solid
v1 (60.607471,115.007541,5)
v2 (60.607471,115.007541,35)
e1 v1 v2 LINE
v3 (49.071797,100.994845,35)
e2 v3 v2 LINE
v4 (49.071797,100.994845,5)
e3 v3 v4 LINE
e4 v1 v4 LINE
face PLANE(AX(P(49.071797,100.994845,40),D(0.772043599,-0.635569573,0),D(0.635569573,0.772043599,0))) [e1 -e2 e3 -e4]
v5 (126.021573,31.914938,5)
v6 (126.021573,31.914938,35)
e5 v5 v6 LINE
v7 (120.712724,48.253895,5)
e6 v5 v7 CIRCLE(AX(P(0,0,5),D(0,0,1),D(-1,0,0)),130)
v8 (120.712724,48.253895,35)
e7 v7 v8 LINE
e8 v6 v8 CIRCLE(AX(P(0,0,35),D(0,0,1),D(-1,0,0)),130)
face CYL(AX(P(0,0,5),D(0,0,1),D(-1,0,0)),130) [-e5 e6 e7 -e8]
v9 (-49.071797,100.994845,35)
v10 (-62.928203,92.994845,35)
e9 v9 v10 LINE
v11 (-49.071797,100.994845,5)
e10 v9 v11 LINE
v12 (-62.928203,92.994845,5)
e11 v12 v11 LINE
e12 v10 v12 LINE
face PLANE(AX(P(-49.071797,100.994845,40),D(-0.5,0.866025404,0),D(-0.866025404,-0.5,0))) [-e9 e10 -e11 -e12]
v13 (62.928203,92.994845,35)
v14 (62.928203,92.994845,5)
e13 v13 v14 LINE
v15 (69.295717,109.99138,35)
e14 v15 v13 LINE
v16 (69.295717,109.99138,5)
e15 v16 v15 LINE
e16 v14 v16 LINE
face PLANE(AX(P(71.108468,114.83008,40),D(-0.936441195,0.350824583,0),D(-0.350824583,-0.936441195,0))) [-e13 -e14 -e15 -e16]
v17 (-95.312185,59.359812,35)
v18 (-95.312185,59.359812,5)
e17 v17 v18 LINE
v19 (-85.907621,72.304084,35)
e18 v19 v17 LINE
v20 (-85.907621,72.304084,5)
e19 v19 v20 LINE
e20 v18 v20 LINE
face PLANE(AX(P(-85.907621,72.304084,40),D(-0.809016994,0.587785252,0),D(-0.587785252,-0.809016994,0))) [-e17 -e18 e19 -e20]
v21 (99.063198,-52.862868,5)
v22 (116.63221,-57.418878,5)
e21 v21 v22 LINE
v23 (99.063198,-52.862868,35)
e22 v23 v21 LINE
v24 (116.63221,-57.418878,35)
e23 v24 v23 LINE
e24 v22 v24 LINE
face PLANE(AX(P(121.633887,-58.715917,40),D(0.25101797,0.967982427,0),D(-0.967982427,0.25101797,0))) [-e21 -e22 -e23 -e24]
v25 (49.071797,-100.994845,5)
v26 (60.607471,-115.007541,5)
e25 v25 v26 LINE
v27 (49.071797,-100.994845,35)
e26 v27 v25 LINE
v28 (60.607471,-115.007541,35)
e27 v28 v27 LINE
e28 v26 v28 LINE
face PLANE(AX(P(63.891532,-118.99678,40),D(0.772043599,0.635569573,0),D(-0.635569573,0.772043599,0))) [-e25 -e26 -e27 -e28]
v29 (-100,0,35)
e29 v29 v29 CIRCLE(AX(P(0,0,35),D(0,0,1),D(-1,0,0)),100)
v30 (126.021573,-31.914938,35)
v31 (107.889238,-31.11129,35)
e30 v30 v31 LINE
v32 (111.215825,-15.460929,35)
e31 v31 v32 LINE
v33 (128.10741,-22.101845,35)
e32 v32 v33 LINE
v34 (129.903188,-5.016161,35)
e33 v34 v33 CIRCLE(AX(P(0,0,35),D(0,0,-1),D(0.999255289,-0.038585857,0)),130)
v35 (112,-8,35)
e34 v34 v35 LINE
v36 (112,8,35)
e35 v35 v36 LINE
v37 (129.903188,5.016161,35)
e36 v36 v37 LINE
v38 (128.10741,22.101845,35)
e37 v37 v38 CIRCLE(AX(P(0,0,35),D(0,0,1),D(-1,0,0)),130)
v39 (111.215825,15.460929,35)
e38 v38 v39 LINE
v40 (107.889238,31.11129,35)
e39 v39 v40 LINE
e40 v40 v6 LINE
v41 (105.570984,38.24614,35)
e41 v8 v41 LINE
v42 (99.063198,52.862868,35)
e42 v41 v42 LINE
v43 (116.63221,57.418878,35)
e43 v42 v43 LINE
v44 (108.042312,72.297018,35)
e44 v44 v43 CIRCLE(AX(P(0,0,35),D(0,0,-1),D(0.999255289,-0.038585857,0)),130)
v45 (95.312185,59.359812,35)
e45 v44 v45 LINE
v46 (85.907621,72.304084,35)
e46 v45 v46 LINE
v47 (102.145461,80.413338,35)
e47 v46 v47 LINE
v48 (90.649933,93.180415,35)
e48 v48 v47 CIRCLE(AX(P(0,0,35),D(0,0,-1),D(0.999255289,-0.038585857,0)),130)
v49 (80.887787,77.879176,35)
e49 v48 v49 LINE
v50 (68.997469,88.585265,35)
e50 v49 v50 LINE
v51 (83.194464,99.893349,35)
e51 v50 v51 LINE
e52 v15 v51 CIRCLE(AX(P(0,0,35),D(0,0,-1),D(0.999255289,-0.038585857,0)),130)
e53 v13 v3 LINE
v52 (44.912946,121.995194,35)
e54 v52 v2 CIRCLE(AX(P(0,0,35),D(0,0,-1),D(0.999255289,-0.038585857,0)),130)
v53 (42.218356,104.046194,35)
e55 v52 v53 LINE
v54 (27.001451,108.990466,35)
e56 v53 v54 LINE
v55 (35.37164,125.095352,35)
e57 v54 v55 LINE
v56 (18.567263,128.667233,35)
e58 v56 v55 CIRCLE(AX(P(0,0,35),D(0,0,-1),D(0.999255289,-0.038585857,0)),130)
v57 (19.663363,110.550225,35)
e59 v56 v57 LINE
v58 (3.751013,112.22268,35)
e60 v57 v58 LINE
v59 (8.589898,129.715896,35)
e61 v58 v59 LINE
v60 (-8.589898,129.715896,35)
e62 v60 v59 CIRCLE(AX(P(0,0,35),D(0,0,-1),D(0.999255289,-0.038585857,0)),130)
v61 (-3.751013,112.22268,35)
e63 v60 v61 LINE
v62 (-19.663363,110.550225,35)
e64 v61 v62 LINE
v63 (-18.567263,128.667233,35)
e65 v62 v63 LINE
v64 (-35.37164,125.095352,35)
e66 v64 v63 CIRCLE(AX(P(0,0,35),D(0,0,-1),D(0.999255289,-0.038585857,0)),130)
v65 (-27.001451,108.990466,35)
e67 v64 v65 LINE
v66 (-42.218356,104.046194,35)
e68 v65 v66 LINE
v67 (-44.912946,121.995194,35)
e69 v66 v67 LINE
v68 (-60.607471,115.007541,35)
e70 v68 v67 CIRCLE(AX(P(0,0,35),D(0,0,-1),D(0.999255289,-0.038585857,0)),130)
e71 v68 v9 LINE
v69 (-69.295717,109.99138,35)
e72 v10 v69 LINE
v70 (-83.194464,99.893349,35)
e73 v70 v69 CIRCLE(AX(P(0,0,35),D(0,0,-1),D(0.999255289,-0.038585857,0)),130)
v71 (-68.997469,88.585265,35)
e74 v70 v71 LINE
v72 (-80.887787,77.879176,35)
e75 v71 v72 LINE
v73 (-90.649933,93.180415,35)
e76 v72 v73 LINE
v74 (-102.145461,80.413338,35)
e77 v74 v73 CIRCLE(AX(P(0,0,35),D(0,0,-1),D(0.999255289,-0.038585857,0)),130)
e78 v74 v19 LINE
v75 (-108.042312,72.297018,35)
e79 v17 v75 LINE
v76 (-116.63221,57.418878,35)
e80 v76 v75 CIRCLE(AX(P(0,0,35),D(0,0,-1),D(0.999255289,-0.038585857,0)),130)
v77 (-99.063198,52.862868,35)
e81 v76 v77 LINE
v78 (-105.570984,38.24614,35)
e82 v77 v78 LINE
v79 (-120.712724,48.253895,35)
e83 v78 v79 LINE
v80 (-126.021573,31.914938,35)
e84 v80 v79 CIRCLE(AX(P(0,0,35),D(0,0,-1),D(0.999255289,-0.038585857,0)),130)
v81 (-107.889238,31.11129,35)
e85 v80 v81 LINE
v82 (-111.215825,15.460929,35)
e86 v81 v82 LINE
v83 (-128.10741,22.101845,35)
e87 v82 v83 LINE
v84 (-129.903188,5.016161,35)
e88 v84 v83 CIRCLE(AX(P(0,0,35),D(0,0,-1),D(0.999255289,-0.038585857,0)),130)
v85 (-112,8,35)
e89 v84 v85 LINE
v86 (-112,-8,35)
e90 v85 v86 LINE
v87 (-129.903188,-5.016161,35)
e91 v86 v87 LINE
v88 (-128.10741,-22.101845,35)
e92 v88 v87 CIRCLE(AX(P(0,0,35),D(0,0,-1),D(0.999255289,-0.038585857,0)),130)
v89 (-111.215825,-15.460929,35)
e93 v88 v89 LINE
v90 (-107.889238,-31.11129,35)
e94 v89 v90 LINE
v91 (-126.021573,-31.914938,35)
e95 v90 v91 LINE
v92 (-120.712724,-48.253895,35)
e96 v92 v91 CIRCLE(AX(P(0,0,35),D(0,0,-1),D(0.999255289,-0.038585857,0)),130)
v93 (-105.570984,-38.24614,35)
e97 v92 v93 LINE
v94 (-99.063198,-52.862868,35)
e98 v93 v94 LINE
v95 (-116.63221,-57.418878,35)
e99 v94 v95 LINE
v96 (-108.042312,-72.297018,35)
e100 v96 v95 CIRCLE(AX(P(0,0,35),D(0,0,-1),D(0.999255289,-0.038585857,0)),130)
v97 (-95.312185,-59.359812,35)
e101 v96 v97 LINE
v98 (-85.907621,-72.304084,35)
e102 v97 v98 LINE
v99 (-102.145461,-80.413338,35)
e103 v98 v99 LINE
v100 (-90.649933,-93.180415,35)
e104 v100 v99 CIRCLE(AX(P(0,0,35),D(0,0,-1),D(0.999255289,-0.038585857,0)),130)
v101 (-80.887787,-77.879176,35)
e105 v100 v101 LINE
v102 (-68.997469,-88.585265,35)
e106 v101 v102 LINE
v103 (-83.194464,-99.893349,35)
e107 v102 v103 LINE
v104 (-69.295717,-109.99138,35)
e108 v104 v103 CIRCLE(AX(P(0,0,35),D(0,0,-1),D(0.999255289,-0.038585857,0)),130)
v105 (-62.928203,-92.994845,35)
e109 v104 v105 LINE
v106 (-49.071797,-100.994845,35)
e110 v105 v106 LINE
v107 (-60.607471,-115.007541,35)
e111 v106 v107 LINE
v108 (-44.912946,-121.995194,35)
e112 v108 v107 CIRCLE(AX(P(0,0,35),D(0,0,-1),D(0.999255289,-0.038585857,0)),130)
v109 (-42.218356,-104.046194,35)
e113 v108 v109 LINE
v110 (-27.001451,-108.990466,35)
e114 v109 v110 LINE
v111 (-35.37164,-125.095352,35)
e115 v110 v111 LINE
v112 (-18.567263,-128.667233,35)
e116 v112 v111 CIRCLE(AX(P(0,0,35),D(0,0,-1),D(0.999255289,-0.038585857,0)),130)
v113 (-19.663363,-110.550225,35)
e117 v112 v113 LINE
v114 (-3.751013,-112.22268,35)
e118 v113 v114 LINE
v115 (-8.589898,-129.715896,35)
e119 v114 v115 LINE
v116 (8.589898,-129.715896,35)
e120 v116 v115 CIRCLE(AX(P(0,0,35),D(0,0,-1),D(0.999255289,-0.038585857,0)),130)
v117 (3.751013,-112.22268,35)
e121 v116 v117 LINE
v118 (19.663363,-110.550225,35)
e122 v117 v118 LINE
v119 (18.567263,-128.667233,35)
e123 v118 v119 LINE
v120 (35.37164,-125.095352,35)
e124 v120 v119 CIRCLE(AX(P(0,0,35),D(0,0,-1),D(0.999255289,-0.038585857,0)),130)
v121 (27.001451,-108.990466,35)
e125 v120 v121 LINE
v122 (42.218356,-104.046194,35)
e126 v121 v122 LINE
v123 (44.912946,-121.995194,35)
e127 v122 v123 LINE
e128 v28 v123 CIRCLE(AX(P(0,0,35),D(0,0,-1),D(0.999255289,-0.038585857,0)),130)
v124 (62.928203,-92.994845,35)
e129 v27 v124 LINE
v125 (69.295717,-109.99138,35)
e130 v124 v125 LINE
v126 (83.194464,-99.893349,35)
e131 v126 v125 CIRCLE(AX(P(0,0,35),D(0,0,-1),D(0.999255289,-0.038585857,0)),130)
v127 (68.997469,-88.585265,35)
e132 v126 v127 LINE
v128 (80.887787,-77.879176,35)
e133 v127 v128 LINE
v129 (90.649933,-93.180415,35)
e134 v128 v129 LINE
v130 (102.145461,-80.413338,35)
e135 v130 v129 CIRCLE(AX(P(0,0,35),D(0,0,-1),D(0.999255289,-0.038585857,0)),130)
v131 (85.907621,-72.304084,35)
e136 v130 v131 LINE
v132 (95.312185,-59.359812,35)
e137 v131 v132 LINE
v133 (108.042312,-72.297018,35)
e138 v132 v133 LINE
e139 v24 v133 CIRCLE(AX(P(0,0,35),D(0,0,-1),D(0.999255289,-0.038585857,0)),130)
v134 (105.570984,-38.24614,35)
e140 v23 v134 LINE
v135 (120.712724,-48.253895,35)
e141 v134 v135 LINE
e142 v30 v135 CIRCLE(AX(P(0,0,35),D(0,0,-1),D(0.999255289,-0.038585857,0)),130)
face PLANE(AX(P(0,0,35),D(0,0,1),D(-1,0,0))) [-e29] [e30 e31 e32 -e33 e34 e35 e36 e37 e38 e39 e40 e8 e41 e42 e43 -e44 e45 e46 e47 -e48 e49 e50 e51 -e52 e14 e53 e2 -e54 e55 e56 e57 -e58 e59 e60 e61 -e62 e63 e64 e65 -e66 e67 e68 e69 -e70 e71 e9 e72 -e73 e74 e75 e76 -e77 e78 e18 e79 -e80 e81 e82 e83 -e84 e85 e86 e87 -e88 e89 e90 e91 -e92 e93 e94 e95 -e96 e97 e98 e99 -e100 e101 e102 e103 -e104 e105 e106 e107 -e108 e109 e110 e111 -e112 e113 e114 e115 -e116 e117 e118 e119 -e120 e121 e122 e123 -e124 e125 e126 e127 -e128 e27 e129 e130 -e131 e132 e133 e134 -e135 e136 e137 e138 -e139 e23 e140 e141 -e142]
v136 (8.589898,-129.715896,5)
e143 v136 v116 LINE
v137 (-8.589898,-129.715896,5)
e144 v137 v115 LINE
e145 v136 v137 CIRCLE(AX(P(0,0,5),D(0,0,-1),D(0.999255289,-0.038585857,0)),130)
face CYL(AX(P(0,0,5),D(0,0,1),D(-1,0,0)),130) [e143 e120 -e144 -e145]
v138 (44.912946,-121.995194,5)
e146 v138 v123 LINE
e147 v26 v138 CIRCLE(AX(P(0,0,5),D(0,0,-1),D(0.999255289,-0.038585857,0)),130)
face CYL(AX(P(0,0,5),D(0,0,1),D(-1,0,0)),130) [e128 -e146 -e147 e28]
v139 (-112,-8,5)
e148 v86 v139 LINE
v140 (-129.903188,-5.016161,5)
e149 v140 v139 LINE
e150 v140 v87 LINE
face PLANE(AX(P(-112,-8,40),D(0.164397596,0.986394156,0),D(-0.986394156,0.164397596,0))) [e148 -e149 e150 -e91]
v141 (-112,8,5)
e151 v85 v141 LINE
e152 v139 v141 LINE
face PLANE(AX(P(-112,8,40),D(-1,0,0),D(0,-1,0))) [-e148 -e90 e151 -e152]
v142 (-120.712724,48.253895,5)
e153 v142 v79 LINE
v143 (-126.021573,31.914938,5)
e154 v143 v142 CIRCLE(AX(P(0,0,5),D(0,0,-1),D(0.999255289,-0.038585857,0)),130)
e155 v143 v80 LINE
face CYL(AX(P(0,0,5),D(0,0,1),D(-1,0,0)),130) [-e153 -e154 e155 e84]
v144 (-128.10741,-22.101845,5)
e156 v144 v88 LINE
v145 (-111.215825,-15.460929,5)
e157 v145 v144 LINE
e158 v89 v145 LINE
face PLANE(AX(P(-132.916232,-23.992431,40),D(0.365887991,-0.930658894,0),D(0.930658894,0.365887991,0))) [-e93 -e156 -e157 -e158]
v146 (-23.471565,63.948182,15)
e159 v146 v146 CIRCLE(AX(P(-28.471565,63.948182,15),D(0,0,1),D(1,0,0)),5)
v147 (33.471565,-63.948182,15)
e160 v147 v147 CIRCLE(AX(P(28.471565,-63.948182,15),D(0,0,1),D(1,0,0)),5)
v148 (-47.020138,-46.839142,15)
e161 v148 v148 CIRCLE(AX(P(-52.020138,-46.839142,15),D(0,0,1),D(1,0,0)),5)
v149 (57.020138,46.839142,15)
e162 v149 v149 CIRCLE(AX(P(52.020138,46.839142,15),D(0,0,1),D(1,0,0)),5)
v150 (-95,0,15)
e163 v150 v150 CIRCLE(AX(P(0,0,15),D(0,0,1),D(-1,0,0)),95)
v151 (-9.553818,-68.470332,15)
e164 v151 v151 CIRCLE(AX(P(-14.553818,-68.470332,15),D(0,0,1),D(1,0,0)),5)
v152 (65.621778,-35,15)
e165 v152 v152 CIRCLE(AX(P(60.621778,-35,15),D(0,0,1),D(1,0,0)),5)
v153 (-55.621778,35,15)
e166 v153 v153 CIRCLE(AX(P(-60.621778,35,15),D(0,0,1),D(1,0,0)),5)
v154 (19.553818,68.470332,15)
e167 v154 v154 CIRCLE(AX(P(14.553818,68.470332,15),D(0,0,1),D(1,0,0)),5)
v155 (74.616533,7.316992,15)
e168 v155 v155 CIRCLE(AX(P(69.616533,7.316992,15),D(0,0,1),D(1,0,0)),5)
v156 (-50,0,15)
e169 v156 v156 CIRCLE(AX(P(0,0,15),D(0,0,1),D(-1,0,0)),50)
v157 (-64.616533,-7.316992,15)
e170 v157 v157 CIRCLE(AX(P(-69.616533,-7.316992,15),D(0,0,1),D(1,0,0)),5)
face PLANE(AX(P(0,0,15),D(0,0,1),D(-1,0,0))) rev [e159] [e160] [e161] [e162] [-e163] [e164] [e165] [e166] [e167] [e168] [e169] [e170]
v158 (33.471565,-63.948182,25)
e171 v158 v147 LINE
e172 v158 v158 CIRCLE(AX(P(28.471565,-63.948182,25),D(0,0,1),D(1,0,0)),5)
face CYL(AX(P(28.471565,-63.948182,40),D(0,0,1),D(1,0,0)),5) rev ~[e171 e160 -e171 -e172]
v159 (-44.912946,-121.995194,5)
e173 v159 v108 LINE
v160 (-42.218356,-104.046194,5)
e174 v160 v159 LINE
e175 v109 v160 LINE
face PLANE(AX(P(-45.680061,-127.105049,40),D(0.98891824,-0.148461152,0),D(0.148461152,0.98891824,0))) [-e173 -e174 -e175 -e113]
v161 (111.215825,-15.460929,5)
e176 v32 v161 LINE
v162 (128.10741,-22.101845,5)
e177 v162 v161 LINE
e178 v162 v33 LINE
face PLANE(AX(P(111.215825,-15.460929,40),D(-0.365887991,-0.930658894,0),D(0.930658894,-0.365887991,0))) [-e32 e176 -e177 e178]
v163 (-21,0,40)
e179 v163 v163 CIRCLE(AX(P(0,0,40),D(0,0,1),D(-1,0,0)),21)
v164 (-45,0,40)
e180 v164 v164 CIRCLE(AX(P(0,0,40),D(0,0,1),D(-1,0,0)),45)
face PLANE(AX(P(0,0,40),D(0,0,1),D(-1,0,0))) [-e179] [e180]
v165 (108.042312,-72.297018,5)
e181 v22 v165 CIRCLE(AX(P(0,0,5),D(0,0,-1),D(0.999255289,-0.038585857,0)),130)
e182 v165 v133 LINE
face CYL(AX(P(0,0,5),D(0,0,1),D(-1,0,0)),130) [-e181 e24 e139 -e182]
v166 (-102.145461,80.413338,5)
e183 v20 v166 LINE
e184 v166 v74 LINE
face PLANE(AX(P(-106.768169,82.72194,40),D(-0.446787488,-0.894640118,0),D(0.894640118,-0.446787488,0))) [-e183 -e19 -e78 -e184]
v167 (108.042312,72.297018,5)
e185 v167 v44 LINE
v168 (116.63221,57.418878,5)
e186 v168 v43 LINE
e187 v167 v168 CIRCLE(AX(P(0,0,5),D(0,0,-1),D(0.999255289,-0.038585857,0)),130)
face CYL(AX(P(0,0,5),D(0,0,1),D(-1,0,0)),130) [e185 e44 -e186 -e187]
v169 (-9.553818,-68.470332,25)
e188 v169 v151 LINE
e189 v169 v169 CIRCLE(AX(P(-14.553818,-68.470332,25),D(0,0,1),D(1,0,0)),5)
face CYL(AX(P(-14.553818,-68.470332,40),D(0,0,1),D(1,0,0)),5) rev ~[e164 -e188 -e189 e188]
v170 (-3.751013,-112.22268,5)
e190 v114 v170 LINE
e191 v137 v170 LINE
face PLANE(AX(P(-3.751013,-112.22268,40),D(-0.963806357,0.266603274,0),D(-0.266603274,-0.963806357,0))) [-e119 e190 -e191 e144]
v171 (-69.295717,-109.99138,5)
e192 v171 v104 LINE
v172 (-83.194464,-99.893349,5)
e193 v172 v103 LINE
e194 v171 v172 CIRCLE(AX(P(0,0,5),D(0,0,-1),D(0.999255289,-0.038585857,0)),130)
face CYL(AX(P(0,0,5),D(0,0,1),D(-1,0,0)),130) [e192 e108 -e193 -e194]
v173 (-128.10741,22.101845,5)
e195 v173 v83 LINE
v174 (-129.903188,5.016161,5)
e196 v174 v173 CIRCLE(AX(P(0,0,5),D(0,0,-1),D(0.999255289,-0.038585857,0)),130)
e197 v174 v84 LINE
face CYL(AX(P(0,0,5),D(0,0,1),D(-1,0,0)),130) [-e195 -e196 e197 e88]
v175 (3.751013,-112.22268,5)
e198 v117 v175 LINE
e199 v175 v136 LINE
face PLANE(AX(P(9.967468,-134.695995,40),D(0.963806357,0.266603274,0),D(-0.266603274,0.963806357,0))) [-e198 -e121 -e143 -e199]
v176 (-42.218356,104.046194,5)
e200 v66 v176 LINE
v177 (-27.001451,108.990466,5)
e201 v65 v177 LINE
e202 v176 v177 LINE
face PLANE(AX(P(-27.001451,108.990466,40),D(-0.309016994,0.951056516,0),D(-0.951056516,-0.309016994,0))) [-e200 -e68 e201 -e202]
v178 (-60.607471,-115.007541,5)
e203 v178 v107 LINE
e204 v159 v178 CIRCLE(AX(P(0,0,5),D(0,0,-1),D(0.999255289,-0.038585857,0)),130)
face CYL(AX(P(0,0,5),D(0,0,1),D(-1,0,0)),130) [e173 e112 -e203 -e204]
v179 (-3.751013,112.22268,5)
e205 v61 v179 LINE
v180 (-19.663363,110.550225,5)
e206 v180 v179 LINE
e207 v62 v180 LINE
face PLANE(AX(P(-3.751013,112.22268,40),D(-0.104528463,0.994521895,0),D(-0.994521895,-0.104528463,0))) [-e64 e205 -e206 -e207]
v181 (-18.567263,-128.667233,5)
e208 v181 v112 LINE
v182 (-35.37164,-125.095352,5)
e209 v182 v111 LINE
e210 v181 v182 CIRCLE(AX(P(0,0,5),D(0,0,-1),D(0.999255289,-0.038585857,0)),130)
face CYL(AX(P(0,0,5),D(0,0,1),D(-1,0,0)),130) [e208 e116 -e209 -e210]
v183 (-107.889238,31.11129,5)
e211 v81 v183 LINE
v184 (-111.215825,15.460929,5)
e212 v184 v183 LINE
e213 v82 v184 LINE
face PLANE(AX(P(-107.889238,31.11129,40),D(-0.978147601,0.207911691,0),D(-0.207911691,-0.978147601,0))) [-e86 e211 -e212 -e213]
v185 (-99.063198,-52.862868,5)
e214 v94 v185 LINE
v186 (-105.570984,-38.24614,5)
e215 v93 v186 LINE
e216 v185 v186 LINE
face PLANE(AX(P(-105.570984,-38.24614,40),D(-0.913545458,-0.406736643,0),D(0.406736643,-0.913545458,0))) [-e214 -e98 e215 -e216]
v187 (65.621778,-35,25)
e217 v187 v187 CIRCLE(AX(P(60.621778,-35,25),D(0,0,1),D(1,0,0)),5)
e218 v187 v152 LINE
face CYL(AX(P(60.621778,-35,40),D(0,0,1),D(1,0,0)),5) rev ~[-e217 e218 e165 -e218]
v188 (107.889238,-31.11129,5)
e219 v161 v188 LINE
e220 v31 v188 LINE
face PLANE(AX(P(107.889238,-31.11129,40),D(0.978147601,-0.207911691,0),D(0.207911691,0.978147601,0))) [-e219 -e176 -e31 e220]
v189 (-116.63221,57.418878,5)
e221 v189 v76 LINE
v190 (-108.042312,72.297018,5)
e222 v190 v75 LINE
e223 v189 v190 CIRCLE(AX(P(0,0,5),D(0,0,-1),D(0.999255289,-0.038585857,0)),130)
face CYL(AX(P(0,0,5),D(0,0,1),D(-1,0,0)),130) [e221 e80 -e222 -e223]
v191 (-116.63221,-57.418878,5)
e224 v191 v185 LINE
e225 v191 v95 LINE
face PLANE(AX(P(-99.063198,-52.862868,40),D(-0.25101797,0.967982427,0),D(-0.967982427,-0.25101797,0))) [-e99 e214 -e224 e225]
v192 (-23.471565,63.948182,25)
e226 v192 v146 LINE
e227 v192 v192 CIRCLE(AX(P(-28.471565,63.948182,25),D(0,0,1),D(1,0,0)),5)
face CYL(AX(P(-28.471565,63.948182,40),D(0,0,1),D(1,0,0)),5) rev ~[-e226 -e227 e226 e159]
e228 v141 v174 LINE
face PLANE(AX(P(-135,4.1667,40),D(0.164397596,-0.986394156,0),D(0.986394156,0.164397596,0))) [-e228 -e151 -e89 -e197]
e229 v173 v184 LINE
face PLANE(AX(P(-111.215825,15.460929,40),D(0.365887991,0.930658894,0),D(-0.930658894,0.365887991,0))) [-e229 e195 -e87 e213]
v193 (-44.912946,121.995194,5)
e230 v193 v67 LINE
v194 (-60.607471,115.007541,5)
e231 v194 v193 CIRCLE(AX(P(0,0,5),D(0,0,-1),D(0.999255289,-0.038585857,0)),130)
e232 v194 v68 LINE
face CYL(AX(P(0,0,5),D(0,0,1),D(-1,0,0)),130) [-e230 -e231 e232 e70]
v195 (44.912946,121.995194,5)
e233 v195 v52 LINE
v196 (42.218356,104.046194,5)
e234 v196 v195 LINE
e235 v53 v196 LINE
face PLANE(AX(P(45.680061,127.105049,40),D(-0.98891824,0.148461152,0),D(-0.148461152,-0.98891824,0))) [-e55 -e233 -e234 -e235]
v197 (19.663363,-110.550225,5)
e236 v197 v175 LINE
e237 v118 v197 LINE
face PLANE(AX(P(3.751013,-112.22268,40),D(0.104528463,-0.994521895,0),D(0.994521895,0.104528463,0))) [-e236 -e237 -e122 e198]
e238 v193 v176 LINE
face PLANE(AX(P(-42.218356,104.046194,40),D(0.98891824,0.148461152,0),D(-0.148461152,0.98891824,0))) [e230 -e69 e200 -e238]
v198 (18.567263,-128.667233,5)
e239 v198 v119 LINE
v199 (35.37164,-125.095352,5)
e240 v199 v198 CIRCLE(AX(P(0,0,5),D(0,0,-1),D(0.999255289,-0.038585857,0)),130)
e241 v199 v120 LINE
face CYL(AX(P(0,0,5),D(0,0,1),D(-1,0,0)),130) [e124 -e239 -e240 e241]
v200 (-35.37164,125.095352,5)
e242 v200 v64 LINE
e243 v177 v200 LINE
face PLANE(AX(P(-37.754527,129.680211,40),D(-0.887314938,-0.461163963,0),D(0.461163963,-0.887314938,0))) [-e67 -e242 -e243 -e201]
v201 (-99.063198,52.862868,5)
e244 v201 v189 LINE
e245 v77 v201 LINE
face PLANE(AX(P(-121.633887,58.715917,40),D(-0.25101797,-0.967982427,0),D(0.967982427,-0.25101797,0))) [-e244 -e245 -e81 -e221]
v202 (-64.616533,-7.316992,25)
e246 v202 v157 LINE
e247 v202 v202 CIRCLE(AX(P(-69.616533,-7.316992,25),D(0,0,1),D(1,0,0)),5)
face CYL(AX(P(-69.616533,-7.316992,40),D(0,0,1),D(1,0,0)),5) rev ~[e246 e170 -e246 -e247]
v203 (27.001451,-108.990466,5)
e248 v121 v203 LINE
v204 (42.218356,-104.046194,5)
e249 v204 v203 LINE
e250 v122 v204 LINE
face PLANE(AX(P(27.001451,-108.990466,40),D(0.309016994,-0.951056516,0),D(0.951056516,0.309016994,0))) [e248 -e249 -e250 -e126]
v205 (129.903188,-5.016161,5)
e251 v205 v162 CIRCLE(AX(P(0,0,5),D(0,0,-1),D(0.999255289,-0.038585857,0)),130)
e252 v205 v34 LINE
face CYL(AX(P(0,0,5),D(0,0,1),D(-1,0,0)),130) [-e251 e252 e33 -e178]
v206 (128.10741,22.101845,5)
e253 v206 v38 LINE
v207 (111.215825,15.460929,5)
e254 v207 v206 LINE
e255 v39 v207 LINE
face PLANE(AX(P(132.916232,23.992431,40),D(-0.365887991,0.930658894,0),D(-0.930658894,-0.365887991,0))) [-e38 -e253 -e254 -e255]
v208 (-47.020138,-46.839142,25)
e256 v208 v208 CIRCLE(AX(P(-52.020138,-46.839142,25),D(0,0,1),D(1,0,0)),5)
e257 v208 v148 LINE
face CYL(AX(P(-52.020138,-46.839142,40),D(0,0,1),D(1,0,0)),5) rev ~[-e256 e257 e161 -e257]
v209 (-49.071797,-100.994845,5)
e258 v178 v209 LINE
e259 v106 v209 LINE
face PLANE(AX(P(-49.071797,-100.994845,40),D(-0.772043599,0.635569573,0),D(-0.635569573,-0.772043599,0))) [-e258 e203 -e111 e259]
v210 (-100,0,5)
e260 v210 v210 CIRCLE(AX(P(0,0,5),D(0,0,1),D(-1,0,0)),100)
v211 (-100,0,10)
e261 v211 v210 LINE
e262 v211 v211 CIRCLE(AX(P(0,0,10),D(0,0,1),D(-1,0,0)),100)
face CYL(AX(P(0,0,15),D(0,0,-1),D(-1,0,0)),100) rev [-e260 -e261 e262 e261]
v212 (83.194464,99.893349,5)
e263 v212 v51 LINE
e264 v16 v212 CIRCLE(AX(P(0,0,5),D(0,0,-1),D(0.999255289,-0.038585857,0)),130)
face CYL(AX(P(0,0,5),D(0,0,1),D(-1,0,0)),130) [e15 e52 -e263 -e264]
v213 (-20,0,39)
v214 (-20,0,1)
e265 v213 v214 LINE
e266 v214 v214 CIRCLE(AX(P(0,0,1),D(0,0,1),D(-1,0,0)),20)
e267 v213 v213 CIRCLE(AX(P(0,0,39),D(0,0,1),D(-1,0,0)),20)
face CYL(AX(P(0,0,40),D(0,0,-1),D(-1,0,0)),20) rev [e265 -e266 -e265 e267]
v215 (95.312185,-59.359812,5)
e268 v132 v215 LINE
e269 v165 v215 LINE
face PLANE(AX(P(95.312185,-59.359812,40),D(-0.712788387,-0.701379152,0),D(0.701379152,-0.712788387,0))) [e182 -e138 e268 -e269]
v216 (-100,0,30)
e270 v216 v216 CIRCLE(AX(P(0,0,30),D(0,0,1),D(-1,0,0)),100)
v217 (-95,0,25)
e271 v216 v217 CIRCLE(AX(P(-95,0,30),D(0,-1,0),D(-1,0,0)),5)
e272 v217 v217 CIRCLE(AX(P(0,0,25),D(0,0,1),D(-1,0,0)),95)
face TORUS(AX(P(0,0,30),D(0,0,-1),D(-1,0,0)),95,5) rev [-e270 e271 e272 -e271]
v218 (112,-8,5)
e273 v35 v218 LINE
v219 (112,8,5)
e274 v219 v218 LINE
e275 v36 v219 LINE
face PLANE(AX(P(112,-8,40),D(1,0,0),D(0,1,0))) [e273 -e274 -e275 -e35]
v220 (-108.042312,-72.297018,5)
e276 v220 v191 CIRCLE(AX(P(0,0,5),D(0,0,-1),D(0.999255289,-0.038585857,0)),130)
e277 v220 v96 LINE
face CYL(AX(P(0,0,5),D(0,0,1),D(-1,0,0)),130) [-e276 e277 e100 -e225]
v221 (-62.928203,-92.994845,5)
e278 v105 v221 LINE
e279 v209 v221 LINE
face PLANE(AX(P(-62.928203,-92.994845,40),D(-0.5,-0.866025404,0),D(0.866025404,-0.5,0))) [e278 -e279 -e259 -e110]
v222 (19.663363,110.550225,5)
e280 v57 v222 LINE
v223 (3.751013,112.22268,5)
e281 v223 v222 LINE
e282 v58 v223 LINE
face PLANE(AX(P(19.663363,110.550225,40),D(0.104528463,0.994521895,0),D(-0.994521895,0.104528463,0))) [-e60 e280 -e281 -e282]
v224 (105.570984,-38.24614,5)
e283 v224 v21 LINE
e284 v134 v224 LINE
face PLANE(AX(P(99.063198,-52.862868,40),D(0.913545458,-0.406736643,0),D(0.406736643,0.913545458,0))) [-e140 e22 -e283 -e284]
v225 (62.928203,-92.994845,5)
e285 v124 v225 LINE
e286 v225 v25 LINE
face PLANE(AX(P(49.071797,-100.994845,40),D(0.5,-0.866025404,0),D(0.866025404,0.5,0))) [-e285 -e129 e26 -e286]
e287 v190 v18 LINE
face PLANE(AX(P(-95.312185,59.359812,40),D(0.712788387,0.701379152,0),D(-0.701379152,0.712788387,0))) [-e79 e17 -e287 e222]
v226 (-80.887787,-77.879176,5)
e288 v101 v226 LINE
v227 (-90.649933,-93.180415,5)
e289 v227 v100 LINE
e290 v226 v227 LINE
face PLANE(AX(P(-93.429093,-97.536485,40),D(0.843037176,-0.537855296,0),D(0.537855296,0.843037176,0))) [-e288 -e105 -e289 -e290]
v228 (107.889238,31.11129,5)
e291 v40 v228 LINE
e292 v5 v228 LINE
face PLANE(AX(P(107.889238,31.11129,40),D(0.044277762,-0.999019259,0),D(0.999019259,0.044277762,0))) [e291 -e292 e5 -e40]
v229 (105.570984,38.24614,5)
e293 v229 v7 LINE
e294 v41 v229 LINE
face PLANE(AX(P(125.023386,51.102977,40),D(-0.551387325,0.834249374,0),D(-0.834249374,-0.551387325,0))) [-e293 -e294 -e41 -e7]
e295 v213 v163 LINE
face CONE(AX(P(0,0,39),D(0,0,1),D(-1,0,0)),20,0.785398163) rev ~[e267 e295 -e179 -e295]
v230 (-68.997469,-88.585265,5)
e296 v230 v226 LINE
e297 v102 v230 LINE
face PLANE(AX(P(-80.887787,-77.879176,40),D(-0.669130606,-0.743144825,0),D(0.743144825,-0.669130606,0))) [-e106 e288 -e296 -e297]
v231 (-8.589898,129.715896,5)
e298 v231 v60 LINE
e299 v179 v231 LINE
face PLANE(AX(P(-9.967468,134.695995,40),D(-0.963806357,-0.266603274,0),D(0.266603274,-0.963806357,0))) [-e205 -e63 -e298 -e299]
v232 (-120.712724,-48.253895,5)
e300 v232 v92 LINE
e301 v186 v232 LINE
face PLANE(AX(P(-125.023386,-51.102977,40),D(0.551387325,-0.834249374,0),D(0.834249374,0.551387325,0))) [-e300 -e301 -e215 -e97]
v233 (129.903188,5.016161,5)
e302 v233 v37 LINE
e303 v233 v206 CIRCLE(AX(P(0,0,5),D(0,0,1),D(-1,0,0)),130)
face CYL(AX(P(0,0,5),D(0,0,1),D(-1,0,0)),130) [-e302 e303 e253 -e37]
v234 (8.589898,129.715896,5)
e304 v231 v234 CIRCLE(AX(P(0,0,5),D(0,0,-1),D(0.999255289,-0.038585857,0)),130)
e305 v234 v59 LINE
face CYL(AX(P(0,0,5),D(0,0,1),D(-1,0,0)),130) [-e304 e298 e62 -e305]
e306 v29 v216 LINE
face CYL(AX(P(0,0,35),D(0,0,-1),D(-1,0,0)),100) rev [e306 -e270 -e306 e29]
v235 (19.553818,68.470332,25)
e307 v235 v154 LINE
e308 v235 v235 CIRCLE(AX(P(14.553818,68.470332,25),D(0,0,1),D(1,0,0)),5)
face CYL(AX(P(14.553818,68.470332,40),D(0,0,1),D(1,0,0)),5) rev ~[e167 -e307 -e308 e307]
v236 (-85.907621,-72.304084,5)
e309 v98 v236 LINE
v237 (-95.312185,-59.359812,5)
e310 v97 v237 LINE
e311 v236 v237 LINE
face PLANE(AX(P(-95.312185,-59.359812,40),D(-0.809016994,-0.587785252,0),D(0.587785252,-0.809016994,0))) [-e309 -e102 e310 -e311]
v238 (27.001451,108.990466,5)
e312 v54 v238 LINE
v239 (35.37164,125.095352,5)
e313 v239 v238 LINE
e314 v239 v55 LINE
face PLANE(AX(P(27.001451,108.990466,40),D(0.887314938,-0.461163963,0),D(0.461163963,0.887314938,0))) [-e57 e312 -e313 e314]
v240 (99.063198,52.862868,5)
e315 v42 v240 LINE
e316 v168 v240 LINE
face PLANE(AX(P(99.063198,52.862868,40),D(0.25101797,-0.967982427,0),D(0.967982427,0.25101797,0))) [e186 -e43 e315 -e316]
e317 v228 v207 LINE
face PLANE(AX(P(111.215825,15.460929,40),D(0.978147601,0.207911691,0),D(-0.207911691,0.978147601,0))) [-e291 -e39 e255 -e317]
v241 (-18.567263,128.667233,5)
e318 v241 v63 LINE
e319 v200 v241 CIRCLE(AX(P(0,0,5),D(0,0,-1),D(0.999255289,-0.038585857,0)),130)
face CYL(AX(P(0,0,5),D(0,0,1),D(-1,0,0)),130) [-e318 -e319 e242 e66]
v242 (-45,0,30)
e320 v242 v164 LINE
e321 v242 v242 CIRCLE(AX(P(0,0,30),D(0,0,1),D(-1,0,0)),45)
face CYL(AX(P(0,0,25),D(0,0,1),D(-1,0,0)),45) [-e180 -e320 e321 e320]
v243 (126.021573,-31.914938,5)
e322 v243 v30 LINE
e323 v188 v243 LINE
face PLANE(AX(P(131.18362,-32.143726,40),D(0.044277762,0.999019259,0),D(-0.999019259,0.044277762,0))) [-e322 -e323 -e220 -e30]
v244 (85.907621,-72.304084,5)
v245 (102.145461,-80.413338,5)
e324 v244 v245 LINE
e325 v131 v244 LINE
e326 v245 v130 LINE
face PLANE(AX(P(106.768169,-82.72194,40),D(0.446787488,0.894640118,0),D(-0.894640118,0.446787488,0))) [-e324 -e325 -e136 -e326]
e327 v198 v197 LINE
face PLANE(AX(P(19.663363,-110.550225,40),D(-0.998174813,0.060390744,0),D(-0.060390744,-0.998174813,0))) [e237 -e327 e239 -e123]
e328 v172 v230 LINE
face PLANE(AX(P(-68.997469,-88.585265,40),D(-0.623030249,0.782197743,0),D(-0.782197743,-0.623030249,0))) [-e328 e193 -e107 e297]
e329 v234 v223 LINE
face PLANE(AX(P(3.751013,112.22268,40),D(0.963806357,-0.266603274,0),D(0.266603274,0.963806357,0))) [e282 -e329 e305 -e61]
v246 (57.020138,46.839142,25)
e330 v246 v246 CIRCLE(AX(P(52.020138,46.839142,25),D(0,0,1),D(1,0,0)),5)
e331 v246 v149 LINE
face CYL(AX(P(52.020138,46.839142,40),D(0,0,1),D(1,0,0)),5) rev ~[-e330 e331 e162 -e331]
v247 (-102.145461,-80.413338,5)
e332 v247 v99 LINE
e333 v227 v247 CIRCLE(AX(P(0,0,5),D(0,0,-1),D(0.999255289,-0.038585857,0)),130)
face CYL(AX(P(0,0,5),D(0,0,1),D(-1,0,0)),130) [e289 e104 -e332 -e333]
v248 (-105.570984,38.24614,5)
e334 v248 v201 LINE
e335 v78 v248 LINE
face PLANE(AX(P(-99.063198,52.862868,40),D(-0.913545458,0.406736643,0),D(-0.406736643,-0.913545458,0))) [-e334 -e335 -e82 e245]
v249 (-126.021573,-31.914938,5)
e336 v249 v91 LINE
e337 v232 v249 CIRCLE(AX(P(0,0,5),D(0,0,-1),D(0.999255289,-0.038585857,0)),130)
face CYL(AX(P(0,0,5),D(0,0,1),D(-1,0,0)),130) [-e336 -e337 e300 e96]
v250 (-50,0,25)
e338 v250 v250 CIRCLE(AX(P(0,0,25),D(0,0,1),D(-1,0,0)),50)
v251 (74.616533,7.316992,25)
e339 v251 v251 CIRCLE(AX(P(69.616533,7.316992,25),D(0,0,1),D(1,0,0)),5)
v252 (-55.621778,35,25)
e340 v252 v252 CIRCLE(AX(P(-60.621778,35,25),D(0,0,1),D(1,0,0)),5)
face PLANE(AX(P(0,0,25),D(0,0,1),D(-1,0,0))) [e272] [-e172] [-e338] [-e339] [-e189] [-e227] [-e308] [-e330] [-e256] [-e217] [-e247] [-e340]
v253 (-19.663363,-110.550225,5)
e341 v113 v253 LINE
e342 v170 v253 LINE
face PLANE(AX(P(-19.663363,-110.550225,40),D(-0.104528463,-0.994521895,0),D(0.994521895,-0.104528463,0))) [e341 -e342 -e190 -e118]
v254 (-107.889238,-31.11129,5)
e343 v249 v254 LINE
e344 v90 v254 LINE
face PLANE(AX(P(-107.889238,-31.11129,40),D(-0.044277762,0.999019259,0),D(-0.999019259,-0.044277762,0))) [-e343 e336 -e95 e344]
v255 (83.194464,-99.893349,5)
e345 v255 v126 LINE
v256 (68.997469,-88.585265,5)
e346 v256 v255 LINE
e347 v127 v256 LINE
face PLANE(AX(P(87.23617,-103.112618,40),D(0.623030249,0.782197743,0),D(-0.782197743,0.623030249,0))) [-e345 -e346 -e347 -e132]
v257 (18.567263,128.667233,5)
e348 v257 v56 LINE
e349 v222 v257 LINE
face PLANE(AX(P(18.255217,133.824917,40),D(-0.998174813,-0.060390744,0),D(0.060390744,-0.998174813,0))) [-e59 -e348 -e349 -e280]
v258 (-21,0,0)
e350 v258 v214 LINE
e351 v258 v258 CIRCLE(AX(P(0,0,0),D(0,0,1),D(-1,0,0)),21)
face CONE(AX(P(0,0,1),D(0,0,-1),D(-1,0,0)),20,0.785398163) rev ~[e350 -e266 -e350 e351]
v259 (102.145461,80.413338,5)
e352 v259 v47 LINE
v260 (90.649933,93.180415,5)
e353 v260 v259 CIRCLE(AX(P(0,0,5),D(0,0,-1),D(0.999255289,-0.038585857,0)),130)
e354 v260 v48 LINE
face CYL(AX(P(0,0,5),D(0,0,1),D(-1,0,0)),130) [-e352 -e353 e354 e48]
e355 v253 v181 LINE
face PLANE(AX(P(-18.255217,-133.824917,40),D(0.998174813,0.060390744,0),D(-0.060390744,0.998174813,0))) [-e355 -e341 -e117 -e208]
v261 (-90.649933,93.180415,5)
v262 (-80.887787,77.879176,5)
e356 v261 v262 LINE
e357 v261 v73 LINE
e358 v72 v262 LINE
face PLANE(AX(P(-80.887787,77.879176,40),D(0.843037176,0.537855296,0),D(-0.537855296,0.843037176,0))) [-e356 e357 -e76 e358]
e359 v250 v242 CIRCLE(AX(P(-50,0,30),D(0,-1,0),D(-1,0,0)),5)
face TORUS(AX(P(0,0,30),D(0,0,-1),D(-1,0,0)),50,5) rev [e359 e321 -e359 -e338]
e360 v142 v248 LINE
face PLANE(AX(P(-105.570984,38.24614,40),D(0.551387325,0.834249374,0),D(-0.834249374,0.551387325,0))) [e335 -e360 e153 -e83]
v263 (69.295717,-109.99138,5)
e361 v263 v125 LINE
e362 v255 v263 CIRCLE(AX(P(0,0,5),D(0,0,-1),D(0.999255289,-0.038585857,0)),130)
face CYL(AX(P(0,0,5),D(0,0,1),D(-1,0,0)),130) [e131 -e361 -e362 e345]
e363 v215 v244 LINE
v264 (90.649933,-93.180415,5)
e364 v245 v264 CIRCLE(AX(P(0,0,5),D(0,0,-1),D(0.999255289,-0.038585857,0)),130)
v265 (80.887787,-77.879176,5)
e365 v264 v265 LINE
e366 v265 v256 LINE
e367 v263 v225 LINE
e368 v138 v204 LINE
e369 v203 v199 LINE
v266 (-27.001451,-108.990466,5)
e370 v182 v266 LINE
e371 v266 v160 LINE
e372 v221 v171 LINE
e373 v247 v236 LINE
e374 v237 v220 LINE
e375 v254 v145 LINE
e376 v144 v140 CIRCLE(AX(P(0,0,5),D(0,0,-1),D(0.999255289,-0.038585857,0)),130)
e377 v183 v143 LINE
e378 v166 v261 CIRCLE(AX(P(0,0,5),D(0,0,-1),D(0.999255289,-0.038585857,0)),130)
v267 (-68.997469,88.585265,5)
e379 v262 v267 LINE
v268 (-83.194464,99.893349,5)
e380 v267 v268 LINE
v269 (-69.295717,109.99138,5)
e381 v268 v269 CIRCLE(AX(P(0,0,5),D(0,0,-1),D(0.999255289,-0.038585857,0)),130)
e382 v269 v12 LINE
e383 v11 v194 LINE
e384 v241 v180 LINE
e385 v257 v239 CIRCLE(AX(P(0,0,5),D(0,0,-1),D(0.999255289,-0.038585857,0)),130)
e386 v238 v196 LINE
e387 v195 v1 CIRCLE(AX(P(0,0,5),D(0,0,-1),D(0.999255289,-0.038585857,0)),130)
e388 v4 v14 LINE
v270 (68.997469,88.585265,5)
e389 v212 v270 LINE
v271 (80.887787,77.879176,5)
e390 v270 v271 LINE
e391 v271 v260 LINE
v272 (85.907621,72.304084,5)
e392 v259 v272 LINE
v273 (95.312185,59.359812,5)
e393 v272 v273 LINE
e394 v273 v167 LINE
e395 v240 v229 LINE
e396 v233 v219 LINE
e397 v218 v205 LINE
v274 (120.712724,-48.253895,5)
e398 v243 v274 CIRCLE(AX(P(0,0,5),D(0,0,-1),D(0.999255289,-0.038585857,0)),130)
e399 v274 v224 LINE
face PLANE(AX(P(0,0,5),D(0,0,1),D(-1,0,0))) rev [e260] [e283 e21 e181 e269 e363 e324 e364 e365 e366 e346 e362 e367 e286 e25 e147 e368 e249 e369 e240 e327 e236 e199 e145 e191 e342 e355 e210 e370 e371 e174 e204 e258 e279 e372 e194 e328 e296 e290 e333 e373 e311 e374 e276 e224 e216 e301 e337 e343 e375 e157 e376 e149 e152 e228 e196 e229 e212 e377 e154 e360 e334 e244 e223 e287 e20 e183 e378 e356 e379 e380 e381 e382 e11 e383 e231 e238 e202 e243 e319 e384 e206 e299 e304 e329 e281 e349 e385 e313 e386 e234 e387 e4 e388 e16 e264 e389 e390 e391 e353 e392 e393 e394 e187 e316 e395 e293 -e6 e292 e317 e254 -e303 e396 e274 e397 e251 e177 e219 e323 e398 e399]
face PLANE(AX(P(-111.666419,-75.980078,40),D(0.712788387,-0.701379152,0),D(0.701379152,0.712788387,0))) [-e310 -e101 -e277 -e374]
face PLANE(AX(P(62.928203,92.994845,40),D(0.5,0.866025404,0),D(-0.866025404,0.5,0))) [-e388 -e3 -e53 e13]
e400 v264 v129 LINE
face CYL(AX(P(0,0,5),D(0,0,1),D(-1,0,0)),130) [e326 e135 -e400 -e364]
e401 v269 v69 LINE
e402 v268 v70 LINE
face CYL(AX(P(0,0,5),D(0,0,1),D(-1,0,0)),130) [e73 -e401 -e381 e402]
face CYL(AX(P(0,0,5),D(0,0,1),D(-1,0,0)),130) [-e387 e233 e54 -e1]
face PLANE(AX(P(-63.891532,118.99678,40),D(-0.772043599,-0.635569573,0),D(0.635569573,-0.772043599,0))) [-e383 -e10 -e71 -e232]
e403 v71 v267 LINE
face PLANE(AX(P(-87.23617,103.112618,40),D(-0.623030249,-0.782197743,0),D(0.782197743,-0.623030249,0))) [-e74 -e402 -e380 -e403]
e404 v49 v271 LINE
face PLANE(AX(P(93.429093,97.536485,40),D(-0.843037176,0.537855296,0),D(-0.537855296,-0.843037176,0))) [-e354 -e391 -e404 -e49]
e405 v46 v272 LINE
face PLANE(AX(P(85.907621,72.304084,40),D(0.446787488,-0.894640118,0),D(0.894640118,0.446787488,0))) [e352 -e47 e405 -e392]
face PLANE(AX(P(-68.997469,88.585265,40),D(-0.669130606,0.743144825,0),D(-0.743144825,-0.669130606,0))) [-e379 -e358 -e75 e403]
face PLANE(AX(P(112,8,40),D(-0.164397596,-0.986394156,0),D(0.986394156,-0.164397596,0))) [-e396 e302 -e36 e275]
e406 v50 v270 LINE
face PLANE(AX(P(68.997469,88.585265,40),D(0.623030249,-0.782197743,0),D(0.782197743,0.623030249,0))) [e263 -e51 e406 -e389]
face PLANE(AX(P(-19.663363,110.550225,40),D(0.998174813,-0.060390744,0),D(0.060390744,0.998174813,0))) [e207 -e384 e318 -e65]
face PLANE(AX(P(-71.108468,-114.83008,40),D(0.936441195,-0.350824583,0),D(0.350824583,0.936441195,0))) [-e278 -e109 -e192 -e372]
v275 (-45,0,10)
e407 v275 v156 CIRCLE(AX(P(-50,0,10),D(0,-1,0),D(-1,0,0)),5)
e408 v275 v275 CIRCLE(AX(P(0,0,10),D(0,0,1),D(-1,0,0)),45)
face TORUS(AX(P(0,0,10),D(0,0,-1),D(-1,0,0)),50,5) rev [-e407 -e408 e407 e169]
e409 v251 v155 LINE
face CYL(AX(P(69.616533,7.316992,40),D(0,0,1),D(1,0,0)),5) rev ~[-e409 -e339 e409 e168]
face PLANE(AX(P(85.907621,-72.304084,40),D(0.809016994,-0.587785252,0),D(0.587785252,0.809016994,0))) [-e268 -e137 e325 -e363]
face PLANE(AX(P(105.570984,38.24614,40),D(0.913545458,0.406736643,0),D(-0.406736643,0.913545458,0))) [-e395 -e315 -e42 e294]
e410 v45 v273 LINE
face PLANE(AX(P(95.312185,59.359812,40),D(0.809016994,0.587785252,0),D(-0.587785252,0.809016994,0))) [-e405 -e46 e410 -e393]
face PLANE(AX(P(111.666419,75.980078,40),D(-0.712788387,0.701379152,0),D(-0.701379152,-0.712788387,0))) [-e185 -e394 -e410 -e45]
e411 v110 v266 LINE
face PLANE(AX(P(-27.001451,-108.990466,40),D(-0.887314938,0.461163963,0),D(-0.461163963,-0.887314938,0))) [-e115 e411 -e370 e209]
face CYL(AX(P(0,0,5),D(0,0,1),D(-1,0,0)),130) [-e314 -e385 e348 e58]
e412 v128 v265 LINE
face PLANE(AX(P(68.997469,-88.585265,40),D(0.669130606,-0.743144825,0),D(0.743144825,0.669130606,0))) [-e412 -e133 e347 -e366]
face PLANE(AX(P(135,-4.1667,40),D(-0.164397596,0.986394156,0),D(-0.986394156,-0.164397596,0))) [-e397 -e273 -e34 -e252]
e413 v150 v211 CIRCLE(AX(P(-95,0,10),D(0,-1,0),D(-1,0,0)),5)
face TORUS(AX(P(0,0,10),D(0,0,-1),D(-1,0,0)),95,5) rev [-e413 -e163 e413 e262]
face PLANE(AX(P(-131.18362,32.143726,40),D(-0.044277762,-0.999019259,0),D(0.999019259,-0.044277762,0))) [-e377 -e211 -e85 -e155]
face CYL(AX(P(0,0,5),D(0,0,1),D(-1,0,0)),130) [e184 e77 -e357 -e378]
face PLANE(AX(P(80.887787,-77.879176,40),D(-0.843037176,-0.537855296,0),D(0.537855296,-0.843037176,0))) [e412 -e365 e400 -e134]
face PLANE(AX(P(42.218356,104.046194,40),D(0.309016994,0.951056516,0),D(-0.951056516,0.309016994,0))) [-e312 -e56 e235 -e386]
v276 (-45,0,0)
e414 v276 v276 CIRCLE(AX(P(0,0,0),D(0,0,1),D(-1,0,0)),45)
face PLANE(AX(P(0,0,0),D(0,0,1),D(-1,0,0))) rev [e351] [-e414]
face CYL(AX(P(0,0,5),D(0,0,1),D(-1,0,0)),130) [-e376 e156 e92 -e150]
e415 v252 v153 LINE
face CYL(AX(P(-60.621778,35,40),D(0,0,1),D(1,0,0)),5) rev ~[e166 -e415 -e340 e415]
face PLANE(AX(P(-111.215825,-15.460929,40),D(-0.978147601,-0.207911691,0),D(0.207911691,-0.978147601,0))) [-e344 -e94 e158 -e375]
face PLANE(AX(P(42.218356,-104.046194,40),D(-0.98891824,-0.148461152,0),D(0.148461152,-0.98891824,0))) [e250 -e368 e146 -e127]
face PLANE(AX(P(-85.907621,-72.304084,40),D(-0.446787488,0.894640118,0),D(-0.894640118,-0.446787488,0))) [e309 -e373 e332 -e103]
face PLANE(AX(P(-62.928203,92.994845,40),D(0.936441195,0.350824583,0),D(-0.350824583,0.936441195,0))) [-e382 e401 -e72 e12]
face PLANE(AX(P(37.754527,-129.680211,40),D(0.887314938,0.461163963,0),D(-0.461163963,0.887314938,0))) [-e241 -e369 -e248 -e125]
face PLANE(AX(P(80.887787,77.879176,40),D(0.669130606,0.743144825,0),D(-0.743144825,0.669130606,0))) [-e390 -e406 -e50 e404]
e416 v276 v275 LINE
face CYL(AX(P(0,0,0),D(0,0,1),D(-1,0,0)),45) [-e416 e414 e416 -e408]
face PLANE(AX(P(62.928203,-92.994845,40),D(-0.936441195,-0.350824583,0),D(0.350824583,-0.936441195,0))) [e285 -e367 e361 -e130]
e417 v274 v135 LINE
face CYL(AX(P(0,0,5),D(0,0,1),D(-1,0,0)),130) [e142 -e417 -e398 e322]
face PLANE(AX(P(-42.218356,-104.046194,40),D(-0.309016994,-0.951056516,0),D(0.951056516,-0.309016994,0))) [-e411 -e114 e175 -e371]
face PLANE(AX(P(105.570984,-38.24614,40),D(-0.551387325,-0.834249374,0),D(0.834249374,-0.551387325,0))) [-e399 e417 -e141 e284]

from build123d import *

# Parameters (mm, degrees)
FILLET_1_R               = 5
CHAMFER_1_SIZE           = 1
CUT_EXTRUDE_2_DEPTH      = 189.148877222
PATTERN_CIRCULAR_1_COUNT = 30
SKETCH_4_R               = 5
CUT_EXTRUDE_3_DEPTH      = 189.081998408


with BuildPart() as part:
    # 草图1 → 旋转1 (revolve)
    with BuildSketch(Plane(origin=(0, 0, 0), x_dir=(1, 0, 0), z_dir=(0, 1, 0))):
        Polygon((20, 0), (45, 0), (45, -15), (100, -15), (100, -5), (130, -5), (130, -35), (100, -35), (100, -25), (45, -25), (45, -40), (20, -40), align=None)
    revolve(axis=Axis((0, 0, 0), (0, 0, 1)))

    # 圆角1
    fillet_1_edges = [part.edges().sort_by_distance(p)[0] for p in [
        (-100, 0, 15),
        (-100, 0, 25),
        (-45, 0, 25),
        (-45, 0, 15),
    ]]
    fillet(fillet_1_edges, radius=FILLET_1_R)

    # 倒角1
    chamfer_1_edges = [part.edges().sort_by_distance(p)[0] for p in [
        (-20, 0, 0),
        (-20, 0, 40),
    ]]
    chamfer(chamfer_1_edges, length=CHAMFER_1_SIZE)

    # 草图3 → 切除-拉伸2 (cut, through all)
    with BuildSketch(Plane.XY.offset(40)):
        Polygon((112, 8), (135, 4.1667), (135, -4.1667), (112, -8), align=None)
    cut_extrude_2 = extrude(amount=-CUT_EXTRUDE_2_DEPTH, mode=Mode.SUBTRACT)

    # 阵列(圆周)1: 切除-拉伸2 ×30 about axis
    pattern_circular_1_axis = Axis((0, 0, 42), (0, 0, -1))
    for i in range(1, PATTERN_CIRCULAR_1_COUNT):
        add(cut_extrude_2.rotate(pattern_circular_1_axis, i * 360 / PATTERN_CIRCULAR_1_COUNT), mode=Mode.SUBTRACT)

    # 草图4 → 切除-拉伸3 (cut, through all)
    with BuildSketch(Plane.XY.offset(40)):
        with Locations((69.616533, 7.316992)):
            Circle(SKETCH_4_R)
        with Locations((52.020138, 46.839142)):
            Circle(SKETCH_4_R)
        with Locations((14.553818, 68.470332)):
            Circle(SKETCH_4_R)
        with Locations((-28.471565, 63.948182)):
            Circle(SKETCH_4_R)
        with Locations((-60.621778, 35)):
            Circle(SKETCH_4_R)
        with Locations((-69.616533, -7.316992)):
            Circle(SKETCH_4_R)
        with Locations((-52.020138, -46.839142)):
            Circle(SKETCH_4_R)
        with Locations((-14.553818, -68.470332)):
            Circle(SKETCH_4_R)
        with Locations((28.471565, -63.948182)):
            Circle(SKETCH_4_R)
        with Locations((60.621778, -35)):
            Circle(SKETCH_4_R)
    extrude(amount=-CUT_EXTRUDE_3_DEPTH, mode=Mode.SUBTRACT)


solid = part.part
